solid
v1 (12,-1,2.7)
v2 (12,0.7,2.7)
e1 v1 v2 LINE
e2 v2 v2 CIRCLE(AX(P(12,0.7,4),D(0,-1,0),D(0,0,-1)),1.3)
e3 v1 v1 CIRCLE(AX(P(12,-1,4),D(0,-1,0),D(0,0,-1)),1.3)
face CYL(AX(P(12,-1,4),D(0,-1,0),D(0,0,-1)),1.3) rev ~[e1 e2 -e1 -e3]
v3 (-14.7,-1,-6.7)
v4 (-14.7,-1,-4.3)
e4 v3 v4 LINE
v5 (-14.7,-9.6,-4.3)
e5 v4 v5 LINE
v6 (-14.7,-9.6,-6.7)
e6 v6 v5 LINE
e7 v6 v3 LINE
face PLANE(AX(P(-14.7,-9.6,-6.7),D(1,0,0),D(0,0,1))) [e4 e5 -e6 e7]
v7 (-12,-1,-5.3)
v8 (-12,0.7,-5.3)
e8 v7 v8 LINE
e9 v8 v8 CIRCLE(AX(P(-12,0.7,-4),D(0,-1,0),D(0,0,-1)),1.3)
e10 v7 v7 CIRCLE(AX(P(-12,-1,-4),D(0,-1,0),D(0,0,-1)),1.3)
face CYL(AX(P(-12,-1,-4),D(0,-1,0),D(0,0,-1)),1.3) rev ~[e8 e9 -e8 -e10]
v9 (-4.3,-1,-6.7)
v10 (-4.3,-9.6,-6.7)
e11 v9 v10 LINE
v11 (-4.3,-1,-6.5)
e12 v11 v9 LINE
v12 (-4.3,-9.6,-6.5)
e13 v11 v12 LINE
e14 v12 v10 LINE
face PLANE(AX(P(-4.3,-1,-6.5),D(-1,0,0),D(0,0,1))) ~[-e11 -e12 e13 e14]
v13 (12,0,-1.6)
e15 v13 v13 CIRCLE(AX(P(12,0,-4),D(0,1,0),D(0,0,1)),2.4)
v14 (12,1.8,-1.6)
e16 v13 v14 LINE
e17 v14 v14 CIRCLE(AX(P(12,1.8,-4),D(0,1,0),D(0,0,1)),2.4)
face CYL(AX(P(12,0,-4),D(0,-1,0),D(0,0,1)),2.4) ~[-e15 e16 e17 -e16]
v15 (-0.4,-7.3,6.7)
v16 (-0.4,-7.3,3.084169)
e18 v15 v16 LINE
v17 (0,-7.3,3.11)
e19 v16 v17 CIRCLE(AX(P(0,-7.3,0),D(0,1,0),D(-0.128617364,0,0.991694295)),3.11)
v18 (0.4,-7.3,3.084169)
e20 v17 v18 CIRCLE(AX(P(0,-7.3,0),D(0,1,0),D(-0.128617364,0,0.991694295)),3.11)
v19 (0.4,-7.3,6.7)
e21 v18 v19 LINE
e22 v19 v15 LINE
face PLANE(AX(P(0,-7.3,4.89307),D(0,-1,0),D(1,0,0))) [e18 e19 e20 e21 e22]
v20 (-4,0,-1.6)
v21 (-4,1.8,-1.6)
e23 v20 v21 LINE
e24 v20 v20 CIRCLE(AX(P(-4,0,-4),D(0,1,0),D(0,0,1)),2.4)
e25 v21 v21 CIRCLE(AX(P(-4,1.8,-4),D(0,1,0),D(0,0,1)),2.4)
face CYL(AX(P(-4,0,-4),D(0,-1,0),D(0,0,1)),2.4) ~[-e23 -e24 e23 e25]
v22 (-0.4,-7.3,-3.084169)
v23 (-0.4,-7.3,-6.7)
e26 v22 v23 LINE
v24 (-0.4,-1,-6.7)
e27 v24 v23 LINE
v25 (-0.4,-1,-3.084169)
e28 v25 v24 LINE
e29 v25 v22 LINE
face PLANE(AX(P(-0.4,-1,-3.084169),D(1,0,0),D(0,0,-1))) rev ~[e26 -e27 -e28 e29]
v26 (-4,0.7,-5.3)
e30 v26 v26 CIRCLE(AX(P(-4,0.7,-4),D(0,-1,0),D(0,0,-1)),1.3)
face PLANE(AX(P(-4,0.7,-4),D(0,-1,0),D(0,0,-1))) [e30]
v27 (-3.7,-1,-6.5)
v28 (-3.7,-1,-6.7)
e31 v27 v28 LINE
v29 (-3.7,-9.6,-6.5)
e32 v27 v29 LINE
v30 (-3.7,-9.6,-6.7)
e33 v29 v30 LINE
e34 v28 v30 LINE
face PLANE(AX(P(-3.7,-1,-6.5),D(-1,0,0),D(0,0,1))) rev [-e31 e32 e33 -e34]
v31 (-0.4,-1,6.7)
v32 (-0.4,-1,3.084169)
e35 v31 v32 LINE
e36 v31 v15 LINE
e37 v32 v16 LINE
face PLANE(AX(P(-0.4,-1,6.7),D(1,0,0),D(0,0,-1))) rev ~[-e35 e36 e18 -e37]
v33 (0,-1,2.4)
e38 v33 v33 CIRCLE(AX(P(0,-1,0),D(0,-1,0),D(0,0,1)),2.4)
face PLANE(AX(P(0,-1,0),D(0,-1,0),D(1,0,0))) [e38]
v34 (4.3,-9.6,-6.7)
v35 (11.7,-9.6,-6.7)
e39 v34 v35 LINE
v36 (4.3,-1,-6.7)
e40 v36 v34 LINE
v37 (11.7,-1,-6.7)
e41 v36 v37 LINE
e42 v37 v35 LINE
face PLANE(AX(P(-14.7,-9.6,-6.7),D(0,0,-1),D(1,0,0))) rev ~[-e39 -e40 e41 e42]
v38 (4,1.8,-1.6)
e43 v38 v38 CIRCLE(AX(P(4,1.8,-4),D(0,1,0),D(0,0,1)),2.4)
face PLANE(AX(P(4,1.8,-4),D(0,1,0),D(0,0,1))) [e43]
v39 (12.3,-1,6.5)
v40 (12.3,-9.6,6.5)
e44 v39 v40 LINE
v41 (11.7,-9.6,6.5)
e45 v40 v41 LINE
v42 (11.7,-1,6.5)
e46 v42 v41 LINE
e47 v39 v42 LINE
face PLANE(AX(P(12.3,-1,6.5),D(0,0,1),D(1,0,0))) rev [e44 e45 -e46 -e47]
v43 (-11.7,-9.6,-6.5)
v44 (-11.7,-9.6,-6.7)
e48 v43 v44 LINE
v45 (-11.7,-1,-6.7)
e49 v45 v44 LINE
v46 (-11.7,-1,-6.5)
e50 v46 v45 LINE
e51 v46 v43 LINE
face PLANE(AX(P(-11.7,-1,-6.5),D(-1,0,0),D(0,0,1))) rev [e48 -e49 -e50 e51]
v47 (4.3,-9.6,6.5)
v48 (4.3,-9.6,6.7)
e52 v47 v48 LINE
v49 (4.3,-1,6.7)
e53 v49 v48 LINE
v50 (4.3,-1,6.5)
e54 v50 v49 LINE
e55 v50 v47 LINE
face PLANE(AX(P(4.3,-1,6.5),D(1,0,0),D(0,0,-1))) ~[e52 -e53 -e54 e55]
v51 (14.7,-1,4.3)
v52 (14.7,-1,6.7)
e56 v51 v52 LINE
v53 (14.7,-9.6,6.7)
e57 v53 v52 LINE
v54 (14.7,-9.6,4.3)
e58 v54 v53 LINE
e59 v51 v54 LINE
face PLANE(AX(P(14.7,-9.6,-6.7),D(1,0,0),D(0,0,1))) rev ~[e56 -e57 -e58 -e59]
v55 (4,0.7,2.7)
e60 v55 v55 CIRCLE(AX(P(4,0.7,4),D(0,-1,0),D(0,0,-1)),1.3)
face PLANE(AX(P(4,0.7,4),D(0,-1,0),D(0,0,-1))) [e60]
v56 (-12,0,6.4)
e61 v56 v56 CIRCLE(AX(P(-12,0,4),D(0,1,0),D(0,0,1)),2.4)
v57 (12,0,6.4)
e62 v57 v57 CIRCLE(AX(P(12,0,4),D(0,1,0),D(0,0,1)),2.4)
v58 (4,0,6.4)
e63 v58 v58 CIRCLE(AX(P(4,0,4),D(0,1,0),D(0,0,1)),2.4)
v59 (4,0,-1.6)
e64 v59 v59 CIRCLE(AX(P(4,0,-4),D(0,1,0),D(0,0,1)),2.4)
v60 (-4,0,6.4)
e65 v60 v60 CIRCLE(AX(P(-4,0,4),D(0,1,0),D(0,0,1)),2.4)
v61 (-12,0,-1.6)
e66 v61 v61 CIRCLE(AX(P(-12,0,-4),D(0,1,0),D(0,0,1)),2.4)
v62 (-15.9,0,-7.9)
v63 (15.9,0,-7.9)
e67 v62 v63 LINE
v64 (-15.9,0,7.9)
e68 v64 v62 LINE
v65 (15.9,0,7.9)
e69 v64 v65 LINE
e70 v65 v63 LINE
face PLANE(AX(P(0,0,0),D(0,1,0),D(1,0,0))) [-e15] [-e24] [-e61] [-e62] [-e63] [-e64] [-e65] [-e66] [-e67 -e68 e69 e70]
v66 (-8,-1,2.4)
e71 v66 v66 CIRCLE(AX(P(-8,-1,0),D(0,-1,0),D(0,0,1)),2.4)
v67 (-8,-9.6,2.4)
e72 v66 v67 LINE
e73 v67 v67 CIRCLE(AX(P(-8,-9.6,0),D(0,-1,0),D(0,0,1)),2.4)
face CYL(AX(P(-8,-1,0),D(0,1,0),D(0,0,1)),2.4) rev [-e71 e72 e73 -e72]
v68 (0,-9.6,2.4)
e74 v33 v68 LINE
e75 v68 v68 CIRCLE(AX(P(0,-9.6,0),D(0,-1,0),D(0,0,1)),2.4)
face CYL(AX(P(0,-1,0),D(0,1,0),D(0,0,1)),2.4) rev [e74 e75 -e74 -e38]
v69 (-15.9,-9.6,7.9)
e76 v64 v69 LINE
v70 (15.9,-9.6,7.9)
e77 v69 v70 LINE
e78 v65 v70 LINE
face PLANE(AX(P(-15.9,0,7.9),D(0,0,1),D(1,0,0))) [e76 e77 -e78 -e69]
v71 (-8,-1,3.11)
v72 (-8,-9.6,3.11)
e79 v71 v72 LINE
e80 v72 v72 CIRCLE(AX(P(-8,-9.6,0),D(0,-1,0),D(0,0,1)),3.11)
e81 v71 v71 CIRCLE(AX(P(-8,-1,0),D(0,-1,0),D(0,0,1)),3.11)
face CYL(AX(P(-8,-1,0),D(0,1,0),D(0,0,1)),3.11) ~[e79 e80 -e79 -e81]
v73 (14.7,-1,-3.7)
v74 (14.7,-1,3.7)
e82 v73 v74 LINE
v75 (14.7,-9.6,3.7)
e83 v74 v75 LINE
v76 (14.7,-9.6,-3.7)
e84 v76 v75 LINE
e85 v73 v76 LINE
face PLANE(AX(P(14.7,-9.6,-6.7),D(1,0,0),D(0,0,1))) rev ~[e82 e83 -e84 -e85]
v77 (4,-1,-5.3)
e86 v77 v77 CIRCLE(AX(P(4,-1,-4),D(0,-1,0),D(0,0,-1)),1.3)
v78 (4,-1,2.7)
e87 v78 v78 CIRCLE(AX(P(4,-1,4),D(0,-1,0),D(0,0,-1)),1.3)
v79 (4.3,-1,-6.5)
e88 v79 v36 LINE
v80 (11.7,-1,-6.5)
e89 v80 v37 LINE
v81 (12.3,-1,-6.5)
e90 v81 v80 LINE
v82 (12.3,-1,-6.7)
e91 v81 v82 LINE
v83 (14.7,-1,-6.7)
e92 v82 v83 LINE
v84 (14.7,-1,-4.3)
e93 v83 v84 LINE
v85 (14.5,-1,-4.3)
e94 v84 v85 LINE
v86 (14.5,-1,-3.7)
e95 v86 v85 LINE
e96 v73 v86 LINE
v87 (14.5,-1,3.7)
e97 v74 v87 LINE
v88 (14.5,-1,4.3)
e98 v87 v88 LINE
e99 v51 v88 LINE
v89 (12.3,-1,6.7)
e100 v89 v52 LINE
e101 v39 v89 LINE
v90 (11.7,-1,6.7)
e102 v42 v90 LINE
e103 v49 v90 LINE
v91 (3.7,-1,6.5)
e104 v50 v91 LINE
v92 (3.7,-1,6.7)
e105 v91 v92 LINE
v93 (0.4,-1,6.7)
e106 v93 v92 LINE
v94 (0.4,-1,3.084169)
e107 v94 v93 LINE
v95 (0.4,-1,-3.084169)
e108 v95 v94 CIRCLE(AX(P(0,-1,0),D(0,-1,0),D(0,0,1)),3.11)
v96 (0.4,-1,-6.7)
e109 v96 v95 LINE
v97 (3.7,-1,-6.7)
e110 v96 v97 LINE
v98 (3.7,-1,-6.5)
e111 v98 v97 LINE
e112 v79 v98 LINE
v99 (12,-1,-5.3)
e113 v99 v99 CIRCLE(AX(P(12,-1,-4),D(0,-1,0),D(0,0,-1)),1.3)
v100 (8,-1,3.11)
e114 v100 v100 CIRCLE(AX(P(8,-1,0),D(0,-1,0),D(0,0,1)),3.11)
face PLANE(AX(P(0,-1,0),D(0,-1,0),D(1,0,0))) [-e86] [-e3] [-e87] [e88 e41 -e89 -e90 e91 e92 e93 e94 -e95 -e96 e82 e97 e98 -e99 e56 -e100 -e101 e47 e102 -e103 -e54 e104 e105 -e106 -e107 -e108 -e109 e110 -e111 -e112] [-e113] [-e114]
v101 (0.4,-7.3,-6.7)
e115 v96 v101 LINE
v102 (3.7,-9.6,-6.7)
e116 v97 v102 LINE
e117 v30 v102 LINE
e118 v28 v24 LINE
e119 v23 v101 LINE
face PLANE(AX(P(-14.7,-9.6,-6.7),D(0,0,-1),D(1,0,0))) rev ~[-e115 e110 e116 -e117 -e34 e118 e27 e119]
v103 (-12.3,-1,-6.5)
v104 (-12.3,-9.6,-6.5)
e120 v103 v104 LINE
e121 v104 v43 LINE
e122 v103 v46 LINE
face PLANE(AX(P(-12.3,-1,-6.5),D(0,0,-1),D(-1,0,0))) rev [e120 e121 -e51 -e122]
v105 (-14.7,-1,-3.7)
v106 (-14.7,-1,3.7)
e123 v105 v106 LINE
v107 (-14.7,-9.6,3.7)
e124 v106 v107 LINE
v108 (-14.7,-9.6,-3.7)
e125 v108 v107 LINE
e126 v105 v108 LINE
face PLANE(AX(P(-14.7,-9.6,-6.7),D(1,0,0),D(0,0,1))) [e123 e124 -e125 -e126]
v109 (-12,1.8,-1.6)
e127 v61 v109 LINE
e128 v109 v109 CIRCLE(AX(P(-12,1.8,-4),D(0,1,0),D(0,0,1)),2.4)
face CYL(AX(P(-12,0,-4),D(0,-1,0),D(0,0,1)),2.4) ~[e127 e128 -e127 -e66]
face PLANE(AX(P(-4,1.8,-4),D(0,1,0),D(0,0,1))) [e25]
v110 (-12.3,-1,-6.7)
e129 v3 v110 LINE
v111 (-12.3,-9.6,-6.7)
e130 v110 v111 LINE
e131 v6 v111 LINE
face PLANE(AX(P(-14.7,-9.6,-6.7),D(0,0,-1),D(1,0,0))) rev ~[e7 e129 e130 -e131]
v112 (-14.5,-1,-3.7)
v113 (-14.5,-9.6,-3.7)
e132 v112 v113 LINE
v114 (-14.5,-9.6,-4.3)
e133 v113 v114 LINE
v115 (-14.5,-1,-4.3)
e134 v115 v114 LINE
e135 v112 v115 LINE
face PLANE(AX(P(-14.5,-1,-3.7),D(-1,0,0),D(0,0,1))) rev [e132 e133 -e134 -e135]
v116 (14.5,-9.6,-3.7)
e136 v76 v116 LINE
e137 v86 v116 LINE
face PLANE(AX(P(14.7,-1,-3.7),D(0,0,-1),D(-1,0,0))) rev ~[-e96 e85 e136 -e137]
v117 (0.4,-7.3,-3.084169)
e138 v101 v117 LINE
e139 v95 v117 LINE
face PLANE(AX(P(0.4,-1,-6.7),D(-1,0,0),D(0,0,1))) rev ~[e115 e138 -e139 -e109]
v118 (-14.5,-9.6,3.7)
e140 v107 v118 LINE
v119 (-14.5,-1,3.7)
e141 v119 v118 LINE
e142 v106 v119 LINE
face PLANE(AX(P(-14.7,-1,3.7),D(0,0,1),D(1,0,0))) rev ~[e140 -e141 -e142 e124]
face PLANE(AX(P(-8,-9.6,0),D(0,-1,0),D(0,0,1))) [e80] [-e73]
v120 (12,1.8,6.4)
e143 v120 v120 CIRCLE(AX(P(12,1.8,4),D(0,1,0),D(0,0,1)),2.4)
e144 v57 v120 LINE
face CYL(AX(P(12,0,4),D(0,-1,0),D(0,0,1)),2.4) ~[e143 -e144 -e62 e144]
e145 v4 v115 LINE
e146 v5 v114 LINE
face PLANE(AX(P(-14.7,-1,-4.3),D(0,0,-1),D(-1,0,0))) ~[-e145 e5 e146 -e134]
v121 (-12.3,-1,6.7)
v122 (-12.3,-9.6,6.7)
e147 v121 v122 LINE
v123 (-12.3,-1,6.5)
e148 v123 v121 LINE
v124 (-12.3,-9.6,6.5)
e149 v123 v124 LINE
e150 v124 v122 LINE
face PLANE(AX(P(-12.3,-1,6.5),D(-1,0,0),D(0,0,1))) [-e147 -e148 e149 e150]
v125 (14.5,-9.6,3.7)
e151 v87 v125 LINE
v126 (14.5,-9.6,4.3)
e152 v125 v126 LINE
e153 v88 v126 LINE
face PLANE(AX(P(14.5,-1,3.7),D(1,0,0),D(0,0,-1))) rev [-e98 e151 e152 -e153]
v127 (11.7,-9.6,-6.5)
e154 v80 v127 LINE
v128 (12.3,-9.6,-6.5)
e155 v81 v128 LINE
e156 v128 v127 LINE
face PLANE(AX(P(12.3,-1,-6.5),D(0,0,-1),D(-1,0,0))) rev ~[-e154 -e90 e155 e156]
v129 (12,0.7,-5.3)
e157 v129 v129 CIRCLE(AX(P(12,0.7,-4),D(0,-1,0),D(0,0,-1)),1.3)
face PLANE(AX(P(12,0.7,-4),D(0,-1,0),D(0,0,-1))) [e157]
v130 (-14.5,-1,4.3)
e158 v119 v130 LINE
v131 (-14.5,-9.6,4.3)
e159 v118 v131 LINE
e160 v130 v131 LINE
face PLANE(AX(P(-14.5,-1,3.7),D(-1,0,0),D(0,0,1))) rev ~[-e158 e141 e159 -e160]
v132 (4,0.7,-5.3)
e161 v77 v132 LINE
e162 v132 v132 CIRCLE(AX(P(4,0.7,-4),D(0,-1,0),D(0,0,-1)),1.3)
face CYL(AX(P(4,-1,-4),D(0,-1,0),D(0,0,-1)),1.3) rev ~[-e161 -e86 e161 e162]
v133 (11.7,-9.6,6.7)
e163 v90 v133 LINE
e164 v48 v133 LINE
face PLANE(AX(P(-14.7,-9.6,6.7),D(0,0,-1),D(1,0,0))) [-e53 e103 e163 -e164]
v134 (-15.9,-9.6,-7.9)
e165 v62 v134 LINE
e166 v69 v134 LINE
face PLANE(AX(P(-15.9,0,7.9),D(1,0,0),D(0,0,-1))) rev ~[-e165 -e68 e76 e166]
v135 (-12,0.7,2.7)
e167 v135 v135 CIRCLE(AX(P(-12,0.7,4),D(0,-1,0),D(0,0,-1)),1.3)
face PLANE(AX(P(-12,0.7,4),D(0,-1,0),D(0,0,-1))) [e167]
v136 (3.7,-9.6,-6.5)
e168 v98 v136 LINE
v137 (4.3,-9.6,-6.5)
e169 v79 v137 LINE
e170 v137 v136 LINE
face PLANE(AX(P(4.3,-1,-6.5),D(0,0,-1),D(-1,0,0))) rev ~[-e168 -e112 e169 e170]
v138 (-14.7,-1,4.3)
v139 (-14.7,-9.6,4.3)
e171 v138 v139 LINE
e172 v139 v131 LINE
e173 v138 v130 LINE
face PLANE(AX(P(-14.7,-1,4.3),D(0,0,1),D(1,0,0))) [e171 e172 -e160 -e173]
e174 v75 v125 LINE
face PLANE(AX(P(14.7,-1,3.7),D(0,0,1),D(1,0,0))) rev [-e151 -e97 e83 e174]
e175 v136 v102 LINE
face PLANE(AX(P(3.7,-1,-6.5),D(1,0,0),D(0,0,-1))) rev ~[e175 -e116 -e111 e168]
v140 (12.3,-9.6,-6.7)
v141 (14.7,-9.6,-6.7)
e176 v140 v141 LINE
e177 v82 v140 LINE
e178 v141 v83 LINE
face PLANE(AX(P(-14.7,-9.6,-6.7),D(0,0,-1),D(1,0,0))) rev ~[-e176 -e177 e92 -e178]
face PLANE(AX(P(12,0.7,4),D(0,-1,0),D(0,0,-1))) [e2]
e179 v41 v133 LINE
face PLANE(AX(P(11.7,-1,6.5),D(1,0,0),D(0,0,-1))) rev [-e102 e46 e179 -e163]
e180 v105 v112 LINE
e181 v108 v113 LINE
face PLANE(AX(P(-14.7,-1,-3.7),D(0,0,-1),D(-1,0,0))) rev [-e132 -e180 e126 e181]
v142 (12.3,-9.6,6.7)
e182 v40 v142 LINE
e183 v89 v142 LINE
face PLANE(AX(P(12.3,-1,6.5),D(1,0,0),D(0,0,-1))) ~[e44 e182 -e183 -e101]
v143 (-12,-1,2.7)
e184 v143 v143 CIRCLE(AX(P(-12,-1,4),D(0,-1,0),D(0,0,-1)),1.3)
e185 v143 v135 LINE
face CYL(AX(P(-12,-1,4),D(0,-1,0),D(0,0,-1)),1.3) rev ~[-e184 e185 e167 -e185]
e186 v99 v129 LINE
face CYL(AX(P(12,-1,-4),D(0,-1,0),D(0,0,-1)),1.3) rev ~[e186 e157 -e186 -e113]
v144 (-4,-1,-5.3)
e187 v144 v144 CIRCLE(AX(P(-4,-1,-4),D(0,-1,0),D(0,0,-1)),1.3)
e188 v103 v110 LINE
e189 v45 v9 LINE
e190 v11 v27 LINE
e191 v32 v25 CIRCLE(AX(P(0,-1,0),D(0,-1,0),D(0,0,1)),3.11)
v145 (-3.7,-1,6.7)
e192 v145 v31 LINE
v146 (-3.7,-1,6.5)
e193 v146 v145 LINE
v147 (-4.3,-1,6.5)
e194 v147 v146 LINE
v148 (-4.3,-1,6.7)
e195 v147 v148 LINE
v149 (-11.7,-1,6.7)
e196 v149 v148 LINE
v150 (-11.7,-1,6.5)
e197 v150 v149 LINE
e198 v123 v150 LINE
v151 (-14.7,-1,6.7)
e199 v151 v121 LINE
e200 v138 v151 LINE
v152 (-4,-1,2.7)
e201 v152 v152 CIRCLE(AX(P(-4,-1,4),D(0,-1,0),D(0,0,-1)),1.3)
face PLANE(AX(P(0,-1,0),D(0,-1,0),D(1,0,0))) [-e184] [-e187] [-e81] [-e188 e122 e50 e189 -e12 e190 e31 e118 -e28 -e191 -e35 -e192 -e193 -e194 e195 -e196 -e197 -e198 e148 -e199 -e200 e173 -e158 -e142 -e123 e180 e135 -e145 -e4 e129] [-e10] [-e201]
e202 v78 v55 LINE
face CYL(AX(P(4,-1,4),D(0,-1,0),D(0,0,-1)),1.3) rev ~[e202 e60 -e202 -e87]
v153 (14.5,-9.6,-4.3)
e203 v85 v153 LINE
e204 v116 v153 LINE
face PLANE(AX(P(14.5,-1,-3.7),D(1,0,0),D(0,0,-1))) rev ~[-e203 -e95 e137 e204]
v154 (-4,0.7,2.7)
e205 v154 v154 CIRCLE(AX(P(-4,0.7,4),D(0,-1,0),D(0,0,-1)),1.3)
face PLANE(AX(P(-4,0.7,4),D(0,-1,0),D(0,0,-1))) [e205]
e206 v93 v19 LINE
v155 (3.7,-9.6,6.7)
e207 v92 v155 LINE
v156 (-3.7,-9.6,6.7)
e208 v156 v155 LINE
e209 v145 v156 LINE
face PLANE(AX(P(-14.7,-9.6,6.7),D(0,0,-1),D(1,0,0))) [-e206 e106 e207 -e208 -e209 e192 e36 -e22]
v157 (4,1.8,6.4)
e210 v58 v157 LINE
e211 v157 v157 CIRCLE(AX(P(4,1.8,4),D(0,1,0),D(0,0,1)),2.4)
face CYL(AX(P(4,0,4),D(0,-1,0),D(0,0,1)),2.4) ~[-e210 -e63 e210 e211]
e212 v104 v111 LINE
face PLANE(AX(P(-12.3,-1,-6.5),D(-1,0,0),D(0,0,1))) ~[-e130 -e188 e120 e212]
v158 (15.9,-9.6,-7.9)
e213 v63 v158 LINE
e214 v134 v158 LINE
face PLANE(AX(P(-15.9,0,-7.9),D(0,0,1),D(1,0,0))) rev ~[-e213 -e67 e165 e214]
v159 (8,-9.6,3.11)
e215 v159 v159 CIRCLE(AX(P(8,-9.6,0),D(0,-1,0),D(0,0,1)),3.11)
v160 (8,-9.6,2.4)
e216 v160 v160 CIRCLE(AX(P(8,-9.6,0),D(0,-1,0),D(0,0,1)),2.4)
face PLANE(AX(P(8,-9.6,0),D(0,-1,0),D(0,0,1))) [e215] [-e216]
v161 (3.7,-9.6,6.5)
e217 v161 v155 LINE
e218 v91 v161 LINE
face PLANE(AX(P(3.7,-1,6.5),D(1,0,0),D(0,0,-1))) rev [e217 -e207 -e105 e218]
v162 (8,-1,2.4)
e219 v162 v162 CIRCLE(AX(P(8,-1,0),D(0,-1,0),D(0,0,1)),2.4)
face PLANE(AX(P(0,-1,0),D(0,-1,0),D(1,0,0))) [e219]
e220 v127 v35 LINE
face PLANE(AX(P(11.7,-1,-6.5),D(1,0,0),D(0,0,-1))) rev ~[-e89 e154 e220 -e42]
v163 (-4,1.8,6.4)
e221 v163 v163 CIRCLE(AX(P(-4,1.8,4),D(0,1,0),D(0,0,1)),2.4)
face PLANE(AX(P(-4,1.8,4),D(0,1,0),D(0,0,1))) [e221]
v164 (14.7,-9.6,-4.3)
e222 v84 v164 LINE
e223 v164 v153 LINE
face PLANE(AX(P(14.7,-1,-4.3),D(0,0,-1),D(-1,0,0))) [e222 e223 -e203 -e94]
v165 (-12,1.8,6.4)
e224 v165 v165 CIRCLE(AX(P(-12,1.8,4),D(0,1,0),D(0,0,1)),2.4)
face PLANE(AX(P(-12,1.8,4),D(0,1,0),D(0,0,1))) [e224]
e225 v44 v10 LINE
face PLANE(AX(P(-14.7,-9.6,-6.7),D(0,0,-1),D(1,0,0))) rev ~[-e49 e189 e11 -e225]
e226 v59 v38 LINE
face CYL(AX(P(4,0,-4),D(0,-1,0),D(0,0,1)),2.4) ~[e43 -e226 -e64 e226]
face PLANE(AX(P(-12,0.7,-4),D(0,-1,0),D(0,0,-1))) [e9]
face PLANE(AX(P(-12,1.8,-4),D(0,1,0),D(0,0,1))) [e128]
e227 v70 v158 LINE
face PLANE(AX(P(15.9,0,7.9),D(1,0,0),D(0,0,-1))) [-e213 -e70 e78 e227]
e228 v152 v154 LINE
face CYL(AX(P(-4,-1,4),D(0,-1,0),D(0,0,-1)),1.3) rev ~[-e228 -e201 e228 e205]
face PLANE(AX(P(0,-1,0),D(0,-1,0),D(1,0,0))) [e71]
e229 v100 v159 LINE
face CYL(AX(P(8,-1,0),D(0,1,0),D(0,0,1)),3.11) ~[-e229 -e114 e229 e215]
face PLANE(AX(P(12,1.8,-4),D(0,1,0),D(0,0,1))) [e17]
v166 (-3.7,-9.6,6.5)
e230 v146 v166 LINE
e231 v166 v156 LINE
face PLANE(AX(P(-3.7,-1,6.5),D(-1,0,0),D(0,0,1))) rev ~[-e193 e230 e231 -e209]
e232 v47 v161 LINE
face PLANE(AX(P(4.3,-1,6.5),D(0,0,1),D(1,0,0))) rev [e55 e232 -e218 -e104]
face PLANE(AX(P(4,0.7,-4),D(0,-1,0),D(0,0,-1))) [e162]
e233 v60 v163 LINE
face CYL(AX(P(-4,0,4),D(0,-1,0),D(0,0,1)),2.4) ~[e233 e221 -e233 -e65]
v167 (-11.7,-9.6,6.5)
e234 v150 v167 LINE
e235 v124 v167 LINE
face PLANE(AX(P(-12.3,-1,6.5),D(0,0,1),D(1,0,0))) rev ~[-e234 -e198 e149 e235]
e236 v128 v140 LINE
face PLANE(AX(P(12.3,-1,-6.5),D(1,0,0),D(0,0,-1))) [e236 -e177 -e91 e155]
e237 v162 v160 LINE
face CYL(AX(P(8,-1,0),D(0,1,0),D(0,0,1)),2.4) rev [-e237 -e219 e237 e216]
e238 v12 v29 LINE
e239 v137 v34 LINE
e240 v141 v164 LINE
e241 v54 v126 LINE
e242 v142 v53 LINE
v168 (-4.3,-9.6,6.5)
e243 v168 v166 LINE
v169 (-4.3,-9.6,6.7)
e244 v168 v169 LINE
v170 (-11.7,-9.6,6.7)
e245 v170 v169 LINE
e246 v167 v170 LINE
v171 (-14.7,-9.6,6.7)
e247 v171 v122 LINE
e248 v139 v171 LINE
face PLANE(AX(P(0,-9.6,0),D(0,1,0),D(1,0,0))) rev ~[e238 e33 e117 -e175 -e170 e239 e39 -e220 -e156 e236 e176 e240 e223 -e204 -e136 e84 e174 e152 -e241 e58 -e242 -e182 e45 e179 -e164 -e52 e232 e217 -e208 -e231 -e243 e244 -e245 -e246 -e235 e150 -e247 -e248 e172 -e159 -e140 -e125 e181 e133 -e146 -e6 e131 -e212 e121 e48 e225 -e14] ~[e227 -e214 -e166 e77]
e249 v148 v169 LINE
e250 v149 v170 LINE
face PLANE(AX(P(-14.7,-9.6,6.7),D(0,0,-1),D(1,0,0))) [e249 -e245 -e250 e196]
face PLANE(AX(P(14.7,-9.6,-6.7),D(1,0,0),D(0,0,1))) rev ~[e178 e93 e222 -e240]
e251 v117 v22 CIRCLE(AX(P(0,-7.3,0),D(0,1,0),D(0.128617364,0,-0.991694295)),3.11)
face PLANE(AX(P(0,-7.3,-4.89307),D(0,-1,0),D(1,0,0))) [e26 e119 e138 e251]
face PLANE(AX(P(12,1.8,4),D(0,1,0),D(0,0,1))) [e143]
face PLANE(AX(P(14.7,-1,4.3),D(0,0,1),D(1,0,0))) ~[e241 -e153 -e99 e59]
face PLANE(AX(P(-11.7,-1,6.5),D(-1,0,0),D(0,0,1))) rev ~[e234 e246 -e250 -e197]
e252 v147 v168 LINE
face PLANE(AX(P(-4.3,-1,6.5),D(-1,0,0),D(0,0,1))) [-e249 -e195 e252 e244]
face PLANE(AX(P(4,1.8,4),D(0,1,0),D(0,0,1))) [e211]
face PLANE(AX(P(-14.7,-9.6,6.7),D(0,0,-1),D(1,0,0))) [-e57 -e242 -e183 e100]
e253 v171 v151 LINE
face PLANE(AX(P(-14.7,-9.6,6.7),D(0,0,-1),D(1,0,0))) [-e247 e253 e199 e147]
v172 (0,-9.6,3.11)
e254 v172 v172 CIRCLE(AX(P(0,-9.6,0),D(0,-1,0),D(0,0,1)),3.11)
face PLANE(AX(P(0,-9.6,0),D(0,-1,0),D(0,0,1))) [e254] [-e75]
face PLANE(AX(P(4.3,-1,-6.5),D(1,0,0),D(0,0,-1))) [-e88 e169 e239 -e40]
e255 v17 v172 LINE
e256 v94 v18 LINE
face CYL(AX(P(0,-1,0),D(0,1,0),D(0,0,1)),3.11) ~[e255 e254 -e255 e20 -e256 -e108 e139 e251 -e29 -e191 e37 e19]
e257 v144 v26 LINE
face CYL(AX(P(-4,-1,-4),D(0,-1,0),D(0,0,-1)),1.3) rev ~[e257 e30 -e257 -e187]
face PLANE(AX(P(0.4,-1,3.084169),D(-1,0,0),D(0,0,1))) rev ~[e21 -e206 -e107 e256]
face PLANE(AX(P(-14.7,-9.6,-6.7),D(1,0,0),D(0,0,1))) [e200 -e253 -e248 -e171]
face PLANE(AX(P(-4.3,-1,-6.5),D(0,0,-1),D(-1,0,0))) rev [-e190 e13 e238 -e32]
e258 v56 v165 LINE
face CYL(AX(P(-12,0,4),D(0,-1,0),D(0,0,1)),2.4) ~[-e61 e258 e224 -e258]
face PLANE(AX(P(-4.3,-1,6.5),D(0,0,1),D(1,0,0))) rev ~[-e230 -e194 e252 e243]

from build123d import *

# Parameters (mm, degrees)
SKETCH1_W                 = 31.8
SKETCH1_H                 = 15.8
BOSS_EXTRUDE1_DEPTH       = 9.6
SKETCH2_R                 = 2.4
BOSS_EXTRUDE2_DEPTH       = 1.8
SKETCH3_W                 = 29.4
SKETCH3_H                 = 13.4
CUT_EXTRUDE1_DEPTH        = 8.6
SKETCH4_R                 = 1.3
CUT_EXTRUDE2_DEPTH        = 1.7
SKETCH5_R                 = 3.11
SKETCH5_R_2               = 2.4
BOSS_EXTRUDE3_DEPTH       = 8.6
BOSS_EXTRUDE4_DEPTH       = 6.3
SKETCH7_W                 = 0.6
SKETCH7_H                 = 0.2
SKETCH7_W_2               = 0.2
SKETCH7_H_2               = 0.6
BOSS_EXTRUDE5_DEPTH       = 8.6
MIRROR2_COPY_1_SKETCH_W   = 0.6
MIRROR2_COPY_1_SKETCH_H   = 0.2
MIRROR2_COPY_1_SKETCH_W_2 = 0.2
MIRROR2_COPY_1_SKETCH_H_2 = 0.6
MIRROR2_COPY_1_DEPTH      = 8.6


with BuildPart() as part:
    # Sketch1 → Boss-Extrude1 (new body)
    with BuildSketch(Plane(origin=(0, 0, 0), x_dir=(1, 0, 0), z_dir=(0, 1, 0))):
        Rectangle(SKETCH1_W, SKETCH1_H)
    extrude(amount=-BOSS_EXTRUDE1_DEPTH)

    # Sketch2 → Boss-Extrude2 (add)
    with BuildSketch(Plane(origin=(0, 0, 0), x_dir=(1, 0, 0), z_dir=(0, 1, 0))):
        with Locations(Location((-12, 4, 0), (0, 0, 270))):
            Circle(SKETCH2_R)
        with Locations(Location((-4, 4, 0), (0, 0, 270))):
            Circle(SKETCH2_R)
        with Locations(Location((4, 4, 0), (0, 0, 270))):
            Circle(SKETCH2_R)
        with Locations(Location((12, 4, 0), (0, 0, 270))):
            Circle(SKETCH2_R)
        with Locations(Location((12, -4, 0), (0, 0, 270))):
            Circle(SKETCH2_R)
        with Locations(Location((4, -4, 0), (0, 0, 270))):
            Circle(SKETCH2_R)
        with Locations(Location((-4, -4, 0), (0, 0, 270))):
            Circle(SKETCH2_R)
        with Locations(Location((-12, -4, 0), (0, 0, 270))):
            Circle(SKETCH2_R)
    extrude(amount=BOSS_EXTRUDE2_DEPTH)

    # Sketch3 → Cut-Extrude1 (cut)
    with BuildSketch(Plane.XZ.offset(9.6)):
        Rectangle(SKETCH3_W, SKETCH3_H)
    extrude(amount=-CUT_EXTRUDE1_DEPTH, mode=Mode.SUBTRACT)

    # Sketch4 → Cut-Extrude2 (cut)
    with BuildSketch(Plane.XZ.offset(1)):
        with Locations(Location((-12, 4, 0), (0, 0, 270))):
            Circle(SKETCH4_R)
        with Locations(Location((-4, 4, 0), (0, 0, 270))):
            Circle(SKETCH4_R)
        with Locations(Location((4, 4, 0), (0, 0, 270))):
            Circle(SKETCH4_R)
        with Locations(Location((12, 4, 0), (0, 0, 270))):
            Circle(SKETCH4_R)
        with Locations(Location((12, -4, 0), (0, 0, 270))):
            Circle(SKETCH4_R)
        with Locations(Location((4, -4, 0), (0, 0, 270))):
            Circle(SKETCH4_R)
        with Locations(Location((-4, -4, 0), (0, 0, 270))):
            Circle(SKETCH4_R)
        with Locations(Location((-12, -4, 0), (0, 0, 270))):
            Circle(SKETCH4_R)
    extrude(amount=-CUT_EXTRUDE2_DEPTH, mode=Mode.SUBTRACT)

    # Sketch5 → Boss-Extrude3 (add)
    # profile 1 of 3: a face of its own
    with BuildSketch(Plane.XZ.offset(1)):
        with Locations(Location((-8, 0, 0), (0, 0, 90))):
            Circle(SKETCH5_R)
        with Locations(Location((-8, 0, 0), (0, 0, 90))):
            Circle(SKETCH5_R_2, mode=Mode.SUBTRACT)
    # profile 2 of 3: a face of its own
    with BuildSketch(Plane.XZ.offset(1)):
        with Locations(Location((0, 0, 0), (0, 0, 90))):
            Circle(SKETCH5_R)
        with Locations(Location((0, 0, 0), (0, 0, 90))):
            Circle(SKETCH5_R_2, mode=Mode.SUBTRACT)
    # profile 3 of 3: a face of its own
    with BuildSketch(Plane.XZ.offset(1)):
        with Locations(Location((8, 0, 0), (0, 0, 90))):
            Circle(SKETCH5_R)
        with Locations(Location((8, 0, 0), (0, 0, 90))):
            Circle(SKETCH5_R_2, mode=Mode.SUBTRACT)
    extrude(amount=BOSS_EXTRUDE3_DEPTH)

    # Sketch6 → Boss-Extrude4 (add)
    with BuildSketch(Plane.XZ.offset(1)):
        with BuildLine():
            Line((-0.4, 6.7), (-0.4, 3.084169256))
            ThreePointArc((-0.4, 3.084169256), (0, 3.11), (0.4, 3.084169256))
            Line((0.4, 3.084169256), (0.4, 6.7))
            Line((0.4, 6.7), (-0.4, 6.7))
        make_face()
        with BuildLine():
            Line((-0.4, -3.084169256), (-0.4, -6.7))
            Line((-0.4, -6.7), (0.4, -6.7))
            Line((0.4, -6.7), (0.4, -3.084169256))
            ThreePointArc((0.4, -3.084169256), (0, -3.11), (-0.4, -3.084169256))
        make_face()
    extrude(amount=BOSS_EXTRUDE4_DEPTH)

    # Sketch7 → Boss-Extrude5 (add)
    with BuildSketch(Plane.XZ.offset(1)):
        with Locations((-12, 6.6)):
            Rectangle(SKETCH7_W, SKETCH7_H)
        with Locations((-4, 6.6)):
            Rectangle(SKETCH7_W, SKETCH7_H)
        with Locations((-14.6, 4)):
            Rectangle(SKETCH7_W_2, SKETCH7_H_2)
    boss_extrude5 = extrude(amount=BOSS_EXTRUDE5_DEPTH)

    # Mirror1: Boss-Extrude5 across plane
    add(boss_extrude5.mirror(Plane(origin=(0, 0, 0), x_dir=(0, 0, 1), z_dir=(1, 0, 0))))

    # Mirror2: Boss-Extrude5 across plane
    add(boss_extrude5.mirror(Plane.XY))

    # Mirror2 copy 1 sketch → Mirror2 copy 1 (add)
    with BuildSketch(Plane(origin=(0, -1, 0), x_dir=(-1, 0, 0), z_dir=(0, -1, 0))):
        with Locations((-12, 6.6)):
            Rectangle(MIRROR2_COPY_1_SKETCH_W, MIRROR2_COPY_1_SKETCH_H)
        with Locations((-4, 6.6)):
            Rectangle(MIRROR2_COPY_1_SKETCH_W, MIRROR2_COPY_1_SKETCH_H)
        with Locations((-14.6, 4)):
            Rectangle(MIRROR2_COPY_1_SKETCH_W_2, MIRROR2_COPY_1_SKETCH_H_2)
    extrude(amount=MIRROR2_COPY_1_DEPTH)


solid = part.part
